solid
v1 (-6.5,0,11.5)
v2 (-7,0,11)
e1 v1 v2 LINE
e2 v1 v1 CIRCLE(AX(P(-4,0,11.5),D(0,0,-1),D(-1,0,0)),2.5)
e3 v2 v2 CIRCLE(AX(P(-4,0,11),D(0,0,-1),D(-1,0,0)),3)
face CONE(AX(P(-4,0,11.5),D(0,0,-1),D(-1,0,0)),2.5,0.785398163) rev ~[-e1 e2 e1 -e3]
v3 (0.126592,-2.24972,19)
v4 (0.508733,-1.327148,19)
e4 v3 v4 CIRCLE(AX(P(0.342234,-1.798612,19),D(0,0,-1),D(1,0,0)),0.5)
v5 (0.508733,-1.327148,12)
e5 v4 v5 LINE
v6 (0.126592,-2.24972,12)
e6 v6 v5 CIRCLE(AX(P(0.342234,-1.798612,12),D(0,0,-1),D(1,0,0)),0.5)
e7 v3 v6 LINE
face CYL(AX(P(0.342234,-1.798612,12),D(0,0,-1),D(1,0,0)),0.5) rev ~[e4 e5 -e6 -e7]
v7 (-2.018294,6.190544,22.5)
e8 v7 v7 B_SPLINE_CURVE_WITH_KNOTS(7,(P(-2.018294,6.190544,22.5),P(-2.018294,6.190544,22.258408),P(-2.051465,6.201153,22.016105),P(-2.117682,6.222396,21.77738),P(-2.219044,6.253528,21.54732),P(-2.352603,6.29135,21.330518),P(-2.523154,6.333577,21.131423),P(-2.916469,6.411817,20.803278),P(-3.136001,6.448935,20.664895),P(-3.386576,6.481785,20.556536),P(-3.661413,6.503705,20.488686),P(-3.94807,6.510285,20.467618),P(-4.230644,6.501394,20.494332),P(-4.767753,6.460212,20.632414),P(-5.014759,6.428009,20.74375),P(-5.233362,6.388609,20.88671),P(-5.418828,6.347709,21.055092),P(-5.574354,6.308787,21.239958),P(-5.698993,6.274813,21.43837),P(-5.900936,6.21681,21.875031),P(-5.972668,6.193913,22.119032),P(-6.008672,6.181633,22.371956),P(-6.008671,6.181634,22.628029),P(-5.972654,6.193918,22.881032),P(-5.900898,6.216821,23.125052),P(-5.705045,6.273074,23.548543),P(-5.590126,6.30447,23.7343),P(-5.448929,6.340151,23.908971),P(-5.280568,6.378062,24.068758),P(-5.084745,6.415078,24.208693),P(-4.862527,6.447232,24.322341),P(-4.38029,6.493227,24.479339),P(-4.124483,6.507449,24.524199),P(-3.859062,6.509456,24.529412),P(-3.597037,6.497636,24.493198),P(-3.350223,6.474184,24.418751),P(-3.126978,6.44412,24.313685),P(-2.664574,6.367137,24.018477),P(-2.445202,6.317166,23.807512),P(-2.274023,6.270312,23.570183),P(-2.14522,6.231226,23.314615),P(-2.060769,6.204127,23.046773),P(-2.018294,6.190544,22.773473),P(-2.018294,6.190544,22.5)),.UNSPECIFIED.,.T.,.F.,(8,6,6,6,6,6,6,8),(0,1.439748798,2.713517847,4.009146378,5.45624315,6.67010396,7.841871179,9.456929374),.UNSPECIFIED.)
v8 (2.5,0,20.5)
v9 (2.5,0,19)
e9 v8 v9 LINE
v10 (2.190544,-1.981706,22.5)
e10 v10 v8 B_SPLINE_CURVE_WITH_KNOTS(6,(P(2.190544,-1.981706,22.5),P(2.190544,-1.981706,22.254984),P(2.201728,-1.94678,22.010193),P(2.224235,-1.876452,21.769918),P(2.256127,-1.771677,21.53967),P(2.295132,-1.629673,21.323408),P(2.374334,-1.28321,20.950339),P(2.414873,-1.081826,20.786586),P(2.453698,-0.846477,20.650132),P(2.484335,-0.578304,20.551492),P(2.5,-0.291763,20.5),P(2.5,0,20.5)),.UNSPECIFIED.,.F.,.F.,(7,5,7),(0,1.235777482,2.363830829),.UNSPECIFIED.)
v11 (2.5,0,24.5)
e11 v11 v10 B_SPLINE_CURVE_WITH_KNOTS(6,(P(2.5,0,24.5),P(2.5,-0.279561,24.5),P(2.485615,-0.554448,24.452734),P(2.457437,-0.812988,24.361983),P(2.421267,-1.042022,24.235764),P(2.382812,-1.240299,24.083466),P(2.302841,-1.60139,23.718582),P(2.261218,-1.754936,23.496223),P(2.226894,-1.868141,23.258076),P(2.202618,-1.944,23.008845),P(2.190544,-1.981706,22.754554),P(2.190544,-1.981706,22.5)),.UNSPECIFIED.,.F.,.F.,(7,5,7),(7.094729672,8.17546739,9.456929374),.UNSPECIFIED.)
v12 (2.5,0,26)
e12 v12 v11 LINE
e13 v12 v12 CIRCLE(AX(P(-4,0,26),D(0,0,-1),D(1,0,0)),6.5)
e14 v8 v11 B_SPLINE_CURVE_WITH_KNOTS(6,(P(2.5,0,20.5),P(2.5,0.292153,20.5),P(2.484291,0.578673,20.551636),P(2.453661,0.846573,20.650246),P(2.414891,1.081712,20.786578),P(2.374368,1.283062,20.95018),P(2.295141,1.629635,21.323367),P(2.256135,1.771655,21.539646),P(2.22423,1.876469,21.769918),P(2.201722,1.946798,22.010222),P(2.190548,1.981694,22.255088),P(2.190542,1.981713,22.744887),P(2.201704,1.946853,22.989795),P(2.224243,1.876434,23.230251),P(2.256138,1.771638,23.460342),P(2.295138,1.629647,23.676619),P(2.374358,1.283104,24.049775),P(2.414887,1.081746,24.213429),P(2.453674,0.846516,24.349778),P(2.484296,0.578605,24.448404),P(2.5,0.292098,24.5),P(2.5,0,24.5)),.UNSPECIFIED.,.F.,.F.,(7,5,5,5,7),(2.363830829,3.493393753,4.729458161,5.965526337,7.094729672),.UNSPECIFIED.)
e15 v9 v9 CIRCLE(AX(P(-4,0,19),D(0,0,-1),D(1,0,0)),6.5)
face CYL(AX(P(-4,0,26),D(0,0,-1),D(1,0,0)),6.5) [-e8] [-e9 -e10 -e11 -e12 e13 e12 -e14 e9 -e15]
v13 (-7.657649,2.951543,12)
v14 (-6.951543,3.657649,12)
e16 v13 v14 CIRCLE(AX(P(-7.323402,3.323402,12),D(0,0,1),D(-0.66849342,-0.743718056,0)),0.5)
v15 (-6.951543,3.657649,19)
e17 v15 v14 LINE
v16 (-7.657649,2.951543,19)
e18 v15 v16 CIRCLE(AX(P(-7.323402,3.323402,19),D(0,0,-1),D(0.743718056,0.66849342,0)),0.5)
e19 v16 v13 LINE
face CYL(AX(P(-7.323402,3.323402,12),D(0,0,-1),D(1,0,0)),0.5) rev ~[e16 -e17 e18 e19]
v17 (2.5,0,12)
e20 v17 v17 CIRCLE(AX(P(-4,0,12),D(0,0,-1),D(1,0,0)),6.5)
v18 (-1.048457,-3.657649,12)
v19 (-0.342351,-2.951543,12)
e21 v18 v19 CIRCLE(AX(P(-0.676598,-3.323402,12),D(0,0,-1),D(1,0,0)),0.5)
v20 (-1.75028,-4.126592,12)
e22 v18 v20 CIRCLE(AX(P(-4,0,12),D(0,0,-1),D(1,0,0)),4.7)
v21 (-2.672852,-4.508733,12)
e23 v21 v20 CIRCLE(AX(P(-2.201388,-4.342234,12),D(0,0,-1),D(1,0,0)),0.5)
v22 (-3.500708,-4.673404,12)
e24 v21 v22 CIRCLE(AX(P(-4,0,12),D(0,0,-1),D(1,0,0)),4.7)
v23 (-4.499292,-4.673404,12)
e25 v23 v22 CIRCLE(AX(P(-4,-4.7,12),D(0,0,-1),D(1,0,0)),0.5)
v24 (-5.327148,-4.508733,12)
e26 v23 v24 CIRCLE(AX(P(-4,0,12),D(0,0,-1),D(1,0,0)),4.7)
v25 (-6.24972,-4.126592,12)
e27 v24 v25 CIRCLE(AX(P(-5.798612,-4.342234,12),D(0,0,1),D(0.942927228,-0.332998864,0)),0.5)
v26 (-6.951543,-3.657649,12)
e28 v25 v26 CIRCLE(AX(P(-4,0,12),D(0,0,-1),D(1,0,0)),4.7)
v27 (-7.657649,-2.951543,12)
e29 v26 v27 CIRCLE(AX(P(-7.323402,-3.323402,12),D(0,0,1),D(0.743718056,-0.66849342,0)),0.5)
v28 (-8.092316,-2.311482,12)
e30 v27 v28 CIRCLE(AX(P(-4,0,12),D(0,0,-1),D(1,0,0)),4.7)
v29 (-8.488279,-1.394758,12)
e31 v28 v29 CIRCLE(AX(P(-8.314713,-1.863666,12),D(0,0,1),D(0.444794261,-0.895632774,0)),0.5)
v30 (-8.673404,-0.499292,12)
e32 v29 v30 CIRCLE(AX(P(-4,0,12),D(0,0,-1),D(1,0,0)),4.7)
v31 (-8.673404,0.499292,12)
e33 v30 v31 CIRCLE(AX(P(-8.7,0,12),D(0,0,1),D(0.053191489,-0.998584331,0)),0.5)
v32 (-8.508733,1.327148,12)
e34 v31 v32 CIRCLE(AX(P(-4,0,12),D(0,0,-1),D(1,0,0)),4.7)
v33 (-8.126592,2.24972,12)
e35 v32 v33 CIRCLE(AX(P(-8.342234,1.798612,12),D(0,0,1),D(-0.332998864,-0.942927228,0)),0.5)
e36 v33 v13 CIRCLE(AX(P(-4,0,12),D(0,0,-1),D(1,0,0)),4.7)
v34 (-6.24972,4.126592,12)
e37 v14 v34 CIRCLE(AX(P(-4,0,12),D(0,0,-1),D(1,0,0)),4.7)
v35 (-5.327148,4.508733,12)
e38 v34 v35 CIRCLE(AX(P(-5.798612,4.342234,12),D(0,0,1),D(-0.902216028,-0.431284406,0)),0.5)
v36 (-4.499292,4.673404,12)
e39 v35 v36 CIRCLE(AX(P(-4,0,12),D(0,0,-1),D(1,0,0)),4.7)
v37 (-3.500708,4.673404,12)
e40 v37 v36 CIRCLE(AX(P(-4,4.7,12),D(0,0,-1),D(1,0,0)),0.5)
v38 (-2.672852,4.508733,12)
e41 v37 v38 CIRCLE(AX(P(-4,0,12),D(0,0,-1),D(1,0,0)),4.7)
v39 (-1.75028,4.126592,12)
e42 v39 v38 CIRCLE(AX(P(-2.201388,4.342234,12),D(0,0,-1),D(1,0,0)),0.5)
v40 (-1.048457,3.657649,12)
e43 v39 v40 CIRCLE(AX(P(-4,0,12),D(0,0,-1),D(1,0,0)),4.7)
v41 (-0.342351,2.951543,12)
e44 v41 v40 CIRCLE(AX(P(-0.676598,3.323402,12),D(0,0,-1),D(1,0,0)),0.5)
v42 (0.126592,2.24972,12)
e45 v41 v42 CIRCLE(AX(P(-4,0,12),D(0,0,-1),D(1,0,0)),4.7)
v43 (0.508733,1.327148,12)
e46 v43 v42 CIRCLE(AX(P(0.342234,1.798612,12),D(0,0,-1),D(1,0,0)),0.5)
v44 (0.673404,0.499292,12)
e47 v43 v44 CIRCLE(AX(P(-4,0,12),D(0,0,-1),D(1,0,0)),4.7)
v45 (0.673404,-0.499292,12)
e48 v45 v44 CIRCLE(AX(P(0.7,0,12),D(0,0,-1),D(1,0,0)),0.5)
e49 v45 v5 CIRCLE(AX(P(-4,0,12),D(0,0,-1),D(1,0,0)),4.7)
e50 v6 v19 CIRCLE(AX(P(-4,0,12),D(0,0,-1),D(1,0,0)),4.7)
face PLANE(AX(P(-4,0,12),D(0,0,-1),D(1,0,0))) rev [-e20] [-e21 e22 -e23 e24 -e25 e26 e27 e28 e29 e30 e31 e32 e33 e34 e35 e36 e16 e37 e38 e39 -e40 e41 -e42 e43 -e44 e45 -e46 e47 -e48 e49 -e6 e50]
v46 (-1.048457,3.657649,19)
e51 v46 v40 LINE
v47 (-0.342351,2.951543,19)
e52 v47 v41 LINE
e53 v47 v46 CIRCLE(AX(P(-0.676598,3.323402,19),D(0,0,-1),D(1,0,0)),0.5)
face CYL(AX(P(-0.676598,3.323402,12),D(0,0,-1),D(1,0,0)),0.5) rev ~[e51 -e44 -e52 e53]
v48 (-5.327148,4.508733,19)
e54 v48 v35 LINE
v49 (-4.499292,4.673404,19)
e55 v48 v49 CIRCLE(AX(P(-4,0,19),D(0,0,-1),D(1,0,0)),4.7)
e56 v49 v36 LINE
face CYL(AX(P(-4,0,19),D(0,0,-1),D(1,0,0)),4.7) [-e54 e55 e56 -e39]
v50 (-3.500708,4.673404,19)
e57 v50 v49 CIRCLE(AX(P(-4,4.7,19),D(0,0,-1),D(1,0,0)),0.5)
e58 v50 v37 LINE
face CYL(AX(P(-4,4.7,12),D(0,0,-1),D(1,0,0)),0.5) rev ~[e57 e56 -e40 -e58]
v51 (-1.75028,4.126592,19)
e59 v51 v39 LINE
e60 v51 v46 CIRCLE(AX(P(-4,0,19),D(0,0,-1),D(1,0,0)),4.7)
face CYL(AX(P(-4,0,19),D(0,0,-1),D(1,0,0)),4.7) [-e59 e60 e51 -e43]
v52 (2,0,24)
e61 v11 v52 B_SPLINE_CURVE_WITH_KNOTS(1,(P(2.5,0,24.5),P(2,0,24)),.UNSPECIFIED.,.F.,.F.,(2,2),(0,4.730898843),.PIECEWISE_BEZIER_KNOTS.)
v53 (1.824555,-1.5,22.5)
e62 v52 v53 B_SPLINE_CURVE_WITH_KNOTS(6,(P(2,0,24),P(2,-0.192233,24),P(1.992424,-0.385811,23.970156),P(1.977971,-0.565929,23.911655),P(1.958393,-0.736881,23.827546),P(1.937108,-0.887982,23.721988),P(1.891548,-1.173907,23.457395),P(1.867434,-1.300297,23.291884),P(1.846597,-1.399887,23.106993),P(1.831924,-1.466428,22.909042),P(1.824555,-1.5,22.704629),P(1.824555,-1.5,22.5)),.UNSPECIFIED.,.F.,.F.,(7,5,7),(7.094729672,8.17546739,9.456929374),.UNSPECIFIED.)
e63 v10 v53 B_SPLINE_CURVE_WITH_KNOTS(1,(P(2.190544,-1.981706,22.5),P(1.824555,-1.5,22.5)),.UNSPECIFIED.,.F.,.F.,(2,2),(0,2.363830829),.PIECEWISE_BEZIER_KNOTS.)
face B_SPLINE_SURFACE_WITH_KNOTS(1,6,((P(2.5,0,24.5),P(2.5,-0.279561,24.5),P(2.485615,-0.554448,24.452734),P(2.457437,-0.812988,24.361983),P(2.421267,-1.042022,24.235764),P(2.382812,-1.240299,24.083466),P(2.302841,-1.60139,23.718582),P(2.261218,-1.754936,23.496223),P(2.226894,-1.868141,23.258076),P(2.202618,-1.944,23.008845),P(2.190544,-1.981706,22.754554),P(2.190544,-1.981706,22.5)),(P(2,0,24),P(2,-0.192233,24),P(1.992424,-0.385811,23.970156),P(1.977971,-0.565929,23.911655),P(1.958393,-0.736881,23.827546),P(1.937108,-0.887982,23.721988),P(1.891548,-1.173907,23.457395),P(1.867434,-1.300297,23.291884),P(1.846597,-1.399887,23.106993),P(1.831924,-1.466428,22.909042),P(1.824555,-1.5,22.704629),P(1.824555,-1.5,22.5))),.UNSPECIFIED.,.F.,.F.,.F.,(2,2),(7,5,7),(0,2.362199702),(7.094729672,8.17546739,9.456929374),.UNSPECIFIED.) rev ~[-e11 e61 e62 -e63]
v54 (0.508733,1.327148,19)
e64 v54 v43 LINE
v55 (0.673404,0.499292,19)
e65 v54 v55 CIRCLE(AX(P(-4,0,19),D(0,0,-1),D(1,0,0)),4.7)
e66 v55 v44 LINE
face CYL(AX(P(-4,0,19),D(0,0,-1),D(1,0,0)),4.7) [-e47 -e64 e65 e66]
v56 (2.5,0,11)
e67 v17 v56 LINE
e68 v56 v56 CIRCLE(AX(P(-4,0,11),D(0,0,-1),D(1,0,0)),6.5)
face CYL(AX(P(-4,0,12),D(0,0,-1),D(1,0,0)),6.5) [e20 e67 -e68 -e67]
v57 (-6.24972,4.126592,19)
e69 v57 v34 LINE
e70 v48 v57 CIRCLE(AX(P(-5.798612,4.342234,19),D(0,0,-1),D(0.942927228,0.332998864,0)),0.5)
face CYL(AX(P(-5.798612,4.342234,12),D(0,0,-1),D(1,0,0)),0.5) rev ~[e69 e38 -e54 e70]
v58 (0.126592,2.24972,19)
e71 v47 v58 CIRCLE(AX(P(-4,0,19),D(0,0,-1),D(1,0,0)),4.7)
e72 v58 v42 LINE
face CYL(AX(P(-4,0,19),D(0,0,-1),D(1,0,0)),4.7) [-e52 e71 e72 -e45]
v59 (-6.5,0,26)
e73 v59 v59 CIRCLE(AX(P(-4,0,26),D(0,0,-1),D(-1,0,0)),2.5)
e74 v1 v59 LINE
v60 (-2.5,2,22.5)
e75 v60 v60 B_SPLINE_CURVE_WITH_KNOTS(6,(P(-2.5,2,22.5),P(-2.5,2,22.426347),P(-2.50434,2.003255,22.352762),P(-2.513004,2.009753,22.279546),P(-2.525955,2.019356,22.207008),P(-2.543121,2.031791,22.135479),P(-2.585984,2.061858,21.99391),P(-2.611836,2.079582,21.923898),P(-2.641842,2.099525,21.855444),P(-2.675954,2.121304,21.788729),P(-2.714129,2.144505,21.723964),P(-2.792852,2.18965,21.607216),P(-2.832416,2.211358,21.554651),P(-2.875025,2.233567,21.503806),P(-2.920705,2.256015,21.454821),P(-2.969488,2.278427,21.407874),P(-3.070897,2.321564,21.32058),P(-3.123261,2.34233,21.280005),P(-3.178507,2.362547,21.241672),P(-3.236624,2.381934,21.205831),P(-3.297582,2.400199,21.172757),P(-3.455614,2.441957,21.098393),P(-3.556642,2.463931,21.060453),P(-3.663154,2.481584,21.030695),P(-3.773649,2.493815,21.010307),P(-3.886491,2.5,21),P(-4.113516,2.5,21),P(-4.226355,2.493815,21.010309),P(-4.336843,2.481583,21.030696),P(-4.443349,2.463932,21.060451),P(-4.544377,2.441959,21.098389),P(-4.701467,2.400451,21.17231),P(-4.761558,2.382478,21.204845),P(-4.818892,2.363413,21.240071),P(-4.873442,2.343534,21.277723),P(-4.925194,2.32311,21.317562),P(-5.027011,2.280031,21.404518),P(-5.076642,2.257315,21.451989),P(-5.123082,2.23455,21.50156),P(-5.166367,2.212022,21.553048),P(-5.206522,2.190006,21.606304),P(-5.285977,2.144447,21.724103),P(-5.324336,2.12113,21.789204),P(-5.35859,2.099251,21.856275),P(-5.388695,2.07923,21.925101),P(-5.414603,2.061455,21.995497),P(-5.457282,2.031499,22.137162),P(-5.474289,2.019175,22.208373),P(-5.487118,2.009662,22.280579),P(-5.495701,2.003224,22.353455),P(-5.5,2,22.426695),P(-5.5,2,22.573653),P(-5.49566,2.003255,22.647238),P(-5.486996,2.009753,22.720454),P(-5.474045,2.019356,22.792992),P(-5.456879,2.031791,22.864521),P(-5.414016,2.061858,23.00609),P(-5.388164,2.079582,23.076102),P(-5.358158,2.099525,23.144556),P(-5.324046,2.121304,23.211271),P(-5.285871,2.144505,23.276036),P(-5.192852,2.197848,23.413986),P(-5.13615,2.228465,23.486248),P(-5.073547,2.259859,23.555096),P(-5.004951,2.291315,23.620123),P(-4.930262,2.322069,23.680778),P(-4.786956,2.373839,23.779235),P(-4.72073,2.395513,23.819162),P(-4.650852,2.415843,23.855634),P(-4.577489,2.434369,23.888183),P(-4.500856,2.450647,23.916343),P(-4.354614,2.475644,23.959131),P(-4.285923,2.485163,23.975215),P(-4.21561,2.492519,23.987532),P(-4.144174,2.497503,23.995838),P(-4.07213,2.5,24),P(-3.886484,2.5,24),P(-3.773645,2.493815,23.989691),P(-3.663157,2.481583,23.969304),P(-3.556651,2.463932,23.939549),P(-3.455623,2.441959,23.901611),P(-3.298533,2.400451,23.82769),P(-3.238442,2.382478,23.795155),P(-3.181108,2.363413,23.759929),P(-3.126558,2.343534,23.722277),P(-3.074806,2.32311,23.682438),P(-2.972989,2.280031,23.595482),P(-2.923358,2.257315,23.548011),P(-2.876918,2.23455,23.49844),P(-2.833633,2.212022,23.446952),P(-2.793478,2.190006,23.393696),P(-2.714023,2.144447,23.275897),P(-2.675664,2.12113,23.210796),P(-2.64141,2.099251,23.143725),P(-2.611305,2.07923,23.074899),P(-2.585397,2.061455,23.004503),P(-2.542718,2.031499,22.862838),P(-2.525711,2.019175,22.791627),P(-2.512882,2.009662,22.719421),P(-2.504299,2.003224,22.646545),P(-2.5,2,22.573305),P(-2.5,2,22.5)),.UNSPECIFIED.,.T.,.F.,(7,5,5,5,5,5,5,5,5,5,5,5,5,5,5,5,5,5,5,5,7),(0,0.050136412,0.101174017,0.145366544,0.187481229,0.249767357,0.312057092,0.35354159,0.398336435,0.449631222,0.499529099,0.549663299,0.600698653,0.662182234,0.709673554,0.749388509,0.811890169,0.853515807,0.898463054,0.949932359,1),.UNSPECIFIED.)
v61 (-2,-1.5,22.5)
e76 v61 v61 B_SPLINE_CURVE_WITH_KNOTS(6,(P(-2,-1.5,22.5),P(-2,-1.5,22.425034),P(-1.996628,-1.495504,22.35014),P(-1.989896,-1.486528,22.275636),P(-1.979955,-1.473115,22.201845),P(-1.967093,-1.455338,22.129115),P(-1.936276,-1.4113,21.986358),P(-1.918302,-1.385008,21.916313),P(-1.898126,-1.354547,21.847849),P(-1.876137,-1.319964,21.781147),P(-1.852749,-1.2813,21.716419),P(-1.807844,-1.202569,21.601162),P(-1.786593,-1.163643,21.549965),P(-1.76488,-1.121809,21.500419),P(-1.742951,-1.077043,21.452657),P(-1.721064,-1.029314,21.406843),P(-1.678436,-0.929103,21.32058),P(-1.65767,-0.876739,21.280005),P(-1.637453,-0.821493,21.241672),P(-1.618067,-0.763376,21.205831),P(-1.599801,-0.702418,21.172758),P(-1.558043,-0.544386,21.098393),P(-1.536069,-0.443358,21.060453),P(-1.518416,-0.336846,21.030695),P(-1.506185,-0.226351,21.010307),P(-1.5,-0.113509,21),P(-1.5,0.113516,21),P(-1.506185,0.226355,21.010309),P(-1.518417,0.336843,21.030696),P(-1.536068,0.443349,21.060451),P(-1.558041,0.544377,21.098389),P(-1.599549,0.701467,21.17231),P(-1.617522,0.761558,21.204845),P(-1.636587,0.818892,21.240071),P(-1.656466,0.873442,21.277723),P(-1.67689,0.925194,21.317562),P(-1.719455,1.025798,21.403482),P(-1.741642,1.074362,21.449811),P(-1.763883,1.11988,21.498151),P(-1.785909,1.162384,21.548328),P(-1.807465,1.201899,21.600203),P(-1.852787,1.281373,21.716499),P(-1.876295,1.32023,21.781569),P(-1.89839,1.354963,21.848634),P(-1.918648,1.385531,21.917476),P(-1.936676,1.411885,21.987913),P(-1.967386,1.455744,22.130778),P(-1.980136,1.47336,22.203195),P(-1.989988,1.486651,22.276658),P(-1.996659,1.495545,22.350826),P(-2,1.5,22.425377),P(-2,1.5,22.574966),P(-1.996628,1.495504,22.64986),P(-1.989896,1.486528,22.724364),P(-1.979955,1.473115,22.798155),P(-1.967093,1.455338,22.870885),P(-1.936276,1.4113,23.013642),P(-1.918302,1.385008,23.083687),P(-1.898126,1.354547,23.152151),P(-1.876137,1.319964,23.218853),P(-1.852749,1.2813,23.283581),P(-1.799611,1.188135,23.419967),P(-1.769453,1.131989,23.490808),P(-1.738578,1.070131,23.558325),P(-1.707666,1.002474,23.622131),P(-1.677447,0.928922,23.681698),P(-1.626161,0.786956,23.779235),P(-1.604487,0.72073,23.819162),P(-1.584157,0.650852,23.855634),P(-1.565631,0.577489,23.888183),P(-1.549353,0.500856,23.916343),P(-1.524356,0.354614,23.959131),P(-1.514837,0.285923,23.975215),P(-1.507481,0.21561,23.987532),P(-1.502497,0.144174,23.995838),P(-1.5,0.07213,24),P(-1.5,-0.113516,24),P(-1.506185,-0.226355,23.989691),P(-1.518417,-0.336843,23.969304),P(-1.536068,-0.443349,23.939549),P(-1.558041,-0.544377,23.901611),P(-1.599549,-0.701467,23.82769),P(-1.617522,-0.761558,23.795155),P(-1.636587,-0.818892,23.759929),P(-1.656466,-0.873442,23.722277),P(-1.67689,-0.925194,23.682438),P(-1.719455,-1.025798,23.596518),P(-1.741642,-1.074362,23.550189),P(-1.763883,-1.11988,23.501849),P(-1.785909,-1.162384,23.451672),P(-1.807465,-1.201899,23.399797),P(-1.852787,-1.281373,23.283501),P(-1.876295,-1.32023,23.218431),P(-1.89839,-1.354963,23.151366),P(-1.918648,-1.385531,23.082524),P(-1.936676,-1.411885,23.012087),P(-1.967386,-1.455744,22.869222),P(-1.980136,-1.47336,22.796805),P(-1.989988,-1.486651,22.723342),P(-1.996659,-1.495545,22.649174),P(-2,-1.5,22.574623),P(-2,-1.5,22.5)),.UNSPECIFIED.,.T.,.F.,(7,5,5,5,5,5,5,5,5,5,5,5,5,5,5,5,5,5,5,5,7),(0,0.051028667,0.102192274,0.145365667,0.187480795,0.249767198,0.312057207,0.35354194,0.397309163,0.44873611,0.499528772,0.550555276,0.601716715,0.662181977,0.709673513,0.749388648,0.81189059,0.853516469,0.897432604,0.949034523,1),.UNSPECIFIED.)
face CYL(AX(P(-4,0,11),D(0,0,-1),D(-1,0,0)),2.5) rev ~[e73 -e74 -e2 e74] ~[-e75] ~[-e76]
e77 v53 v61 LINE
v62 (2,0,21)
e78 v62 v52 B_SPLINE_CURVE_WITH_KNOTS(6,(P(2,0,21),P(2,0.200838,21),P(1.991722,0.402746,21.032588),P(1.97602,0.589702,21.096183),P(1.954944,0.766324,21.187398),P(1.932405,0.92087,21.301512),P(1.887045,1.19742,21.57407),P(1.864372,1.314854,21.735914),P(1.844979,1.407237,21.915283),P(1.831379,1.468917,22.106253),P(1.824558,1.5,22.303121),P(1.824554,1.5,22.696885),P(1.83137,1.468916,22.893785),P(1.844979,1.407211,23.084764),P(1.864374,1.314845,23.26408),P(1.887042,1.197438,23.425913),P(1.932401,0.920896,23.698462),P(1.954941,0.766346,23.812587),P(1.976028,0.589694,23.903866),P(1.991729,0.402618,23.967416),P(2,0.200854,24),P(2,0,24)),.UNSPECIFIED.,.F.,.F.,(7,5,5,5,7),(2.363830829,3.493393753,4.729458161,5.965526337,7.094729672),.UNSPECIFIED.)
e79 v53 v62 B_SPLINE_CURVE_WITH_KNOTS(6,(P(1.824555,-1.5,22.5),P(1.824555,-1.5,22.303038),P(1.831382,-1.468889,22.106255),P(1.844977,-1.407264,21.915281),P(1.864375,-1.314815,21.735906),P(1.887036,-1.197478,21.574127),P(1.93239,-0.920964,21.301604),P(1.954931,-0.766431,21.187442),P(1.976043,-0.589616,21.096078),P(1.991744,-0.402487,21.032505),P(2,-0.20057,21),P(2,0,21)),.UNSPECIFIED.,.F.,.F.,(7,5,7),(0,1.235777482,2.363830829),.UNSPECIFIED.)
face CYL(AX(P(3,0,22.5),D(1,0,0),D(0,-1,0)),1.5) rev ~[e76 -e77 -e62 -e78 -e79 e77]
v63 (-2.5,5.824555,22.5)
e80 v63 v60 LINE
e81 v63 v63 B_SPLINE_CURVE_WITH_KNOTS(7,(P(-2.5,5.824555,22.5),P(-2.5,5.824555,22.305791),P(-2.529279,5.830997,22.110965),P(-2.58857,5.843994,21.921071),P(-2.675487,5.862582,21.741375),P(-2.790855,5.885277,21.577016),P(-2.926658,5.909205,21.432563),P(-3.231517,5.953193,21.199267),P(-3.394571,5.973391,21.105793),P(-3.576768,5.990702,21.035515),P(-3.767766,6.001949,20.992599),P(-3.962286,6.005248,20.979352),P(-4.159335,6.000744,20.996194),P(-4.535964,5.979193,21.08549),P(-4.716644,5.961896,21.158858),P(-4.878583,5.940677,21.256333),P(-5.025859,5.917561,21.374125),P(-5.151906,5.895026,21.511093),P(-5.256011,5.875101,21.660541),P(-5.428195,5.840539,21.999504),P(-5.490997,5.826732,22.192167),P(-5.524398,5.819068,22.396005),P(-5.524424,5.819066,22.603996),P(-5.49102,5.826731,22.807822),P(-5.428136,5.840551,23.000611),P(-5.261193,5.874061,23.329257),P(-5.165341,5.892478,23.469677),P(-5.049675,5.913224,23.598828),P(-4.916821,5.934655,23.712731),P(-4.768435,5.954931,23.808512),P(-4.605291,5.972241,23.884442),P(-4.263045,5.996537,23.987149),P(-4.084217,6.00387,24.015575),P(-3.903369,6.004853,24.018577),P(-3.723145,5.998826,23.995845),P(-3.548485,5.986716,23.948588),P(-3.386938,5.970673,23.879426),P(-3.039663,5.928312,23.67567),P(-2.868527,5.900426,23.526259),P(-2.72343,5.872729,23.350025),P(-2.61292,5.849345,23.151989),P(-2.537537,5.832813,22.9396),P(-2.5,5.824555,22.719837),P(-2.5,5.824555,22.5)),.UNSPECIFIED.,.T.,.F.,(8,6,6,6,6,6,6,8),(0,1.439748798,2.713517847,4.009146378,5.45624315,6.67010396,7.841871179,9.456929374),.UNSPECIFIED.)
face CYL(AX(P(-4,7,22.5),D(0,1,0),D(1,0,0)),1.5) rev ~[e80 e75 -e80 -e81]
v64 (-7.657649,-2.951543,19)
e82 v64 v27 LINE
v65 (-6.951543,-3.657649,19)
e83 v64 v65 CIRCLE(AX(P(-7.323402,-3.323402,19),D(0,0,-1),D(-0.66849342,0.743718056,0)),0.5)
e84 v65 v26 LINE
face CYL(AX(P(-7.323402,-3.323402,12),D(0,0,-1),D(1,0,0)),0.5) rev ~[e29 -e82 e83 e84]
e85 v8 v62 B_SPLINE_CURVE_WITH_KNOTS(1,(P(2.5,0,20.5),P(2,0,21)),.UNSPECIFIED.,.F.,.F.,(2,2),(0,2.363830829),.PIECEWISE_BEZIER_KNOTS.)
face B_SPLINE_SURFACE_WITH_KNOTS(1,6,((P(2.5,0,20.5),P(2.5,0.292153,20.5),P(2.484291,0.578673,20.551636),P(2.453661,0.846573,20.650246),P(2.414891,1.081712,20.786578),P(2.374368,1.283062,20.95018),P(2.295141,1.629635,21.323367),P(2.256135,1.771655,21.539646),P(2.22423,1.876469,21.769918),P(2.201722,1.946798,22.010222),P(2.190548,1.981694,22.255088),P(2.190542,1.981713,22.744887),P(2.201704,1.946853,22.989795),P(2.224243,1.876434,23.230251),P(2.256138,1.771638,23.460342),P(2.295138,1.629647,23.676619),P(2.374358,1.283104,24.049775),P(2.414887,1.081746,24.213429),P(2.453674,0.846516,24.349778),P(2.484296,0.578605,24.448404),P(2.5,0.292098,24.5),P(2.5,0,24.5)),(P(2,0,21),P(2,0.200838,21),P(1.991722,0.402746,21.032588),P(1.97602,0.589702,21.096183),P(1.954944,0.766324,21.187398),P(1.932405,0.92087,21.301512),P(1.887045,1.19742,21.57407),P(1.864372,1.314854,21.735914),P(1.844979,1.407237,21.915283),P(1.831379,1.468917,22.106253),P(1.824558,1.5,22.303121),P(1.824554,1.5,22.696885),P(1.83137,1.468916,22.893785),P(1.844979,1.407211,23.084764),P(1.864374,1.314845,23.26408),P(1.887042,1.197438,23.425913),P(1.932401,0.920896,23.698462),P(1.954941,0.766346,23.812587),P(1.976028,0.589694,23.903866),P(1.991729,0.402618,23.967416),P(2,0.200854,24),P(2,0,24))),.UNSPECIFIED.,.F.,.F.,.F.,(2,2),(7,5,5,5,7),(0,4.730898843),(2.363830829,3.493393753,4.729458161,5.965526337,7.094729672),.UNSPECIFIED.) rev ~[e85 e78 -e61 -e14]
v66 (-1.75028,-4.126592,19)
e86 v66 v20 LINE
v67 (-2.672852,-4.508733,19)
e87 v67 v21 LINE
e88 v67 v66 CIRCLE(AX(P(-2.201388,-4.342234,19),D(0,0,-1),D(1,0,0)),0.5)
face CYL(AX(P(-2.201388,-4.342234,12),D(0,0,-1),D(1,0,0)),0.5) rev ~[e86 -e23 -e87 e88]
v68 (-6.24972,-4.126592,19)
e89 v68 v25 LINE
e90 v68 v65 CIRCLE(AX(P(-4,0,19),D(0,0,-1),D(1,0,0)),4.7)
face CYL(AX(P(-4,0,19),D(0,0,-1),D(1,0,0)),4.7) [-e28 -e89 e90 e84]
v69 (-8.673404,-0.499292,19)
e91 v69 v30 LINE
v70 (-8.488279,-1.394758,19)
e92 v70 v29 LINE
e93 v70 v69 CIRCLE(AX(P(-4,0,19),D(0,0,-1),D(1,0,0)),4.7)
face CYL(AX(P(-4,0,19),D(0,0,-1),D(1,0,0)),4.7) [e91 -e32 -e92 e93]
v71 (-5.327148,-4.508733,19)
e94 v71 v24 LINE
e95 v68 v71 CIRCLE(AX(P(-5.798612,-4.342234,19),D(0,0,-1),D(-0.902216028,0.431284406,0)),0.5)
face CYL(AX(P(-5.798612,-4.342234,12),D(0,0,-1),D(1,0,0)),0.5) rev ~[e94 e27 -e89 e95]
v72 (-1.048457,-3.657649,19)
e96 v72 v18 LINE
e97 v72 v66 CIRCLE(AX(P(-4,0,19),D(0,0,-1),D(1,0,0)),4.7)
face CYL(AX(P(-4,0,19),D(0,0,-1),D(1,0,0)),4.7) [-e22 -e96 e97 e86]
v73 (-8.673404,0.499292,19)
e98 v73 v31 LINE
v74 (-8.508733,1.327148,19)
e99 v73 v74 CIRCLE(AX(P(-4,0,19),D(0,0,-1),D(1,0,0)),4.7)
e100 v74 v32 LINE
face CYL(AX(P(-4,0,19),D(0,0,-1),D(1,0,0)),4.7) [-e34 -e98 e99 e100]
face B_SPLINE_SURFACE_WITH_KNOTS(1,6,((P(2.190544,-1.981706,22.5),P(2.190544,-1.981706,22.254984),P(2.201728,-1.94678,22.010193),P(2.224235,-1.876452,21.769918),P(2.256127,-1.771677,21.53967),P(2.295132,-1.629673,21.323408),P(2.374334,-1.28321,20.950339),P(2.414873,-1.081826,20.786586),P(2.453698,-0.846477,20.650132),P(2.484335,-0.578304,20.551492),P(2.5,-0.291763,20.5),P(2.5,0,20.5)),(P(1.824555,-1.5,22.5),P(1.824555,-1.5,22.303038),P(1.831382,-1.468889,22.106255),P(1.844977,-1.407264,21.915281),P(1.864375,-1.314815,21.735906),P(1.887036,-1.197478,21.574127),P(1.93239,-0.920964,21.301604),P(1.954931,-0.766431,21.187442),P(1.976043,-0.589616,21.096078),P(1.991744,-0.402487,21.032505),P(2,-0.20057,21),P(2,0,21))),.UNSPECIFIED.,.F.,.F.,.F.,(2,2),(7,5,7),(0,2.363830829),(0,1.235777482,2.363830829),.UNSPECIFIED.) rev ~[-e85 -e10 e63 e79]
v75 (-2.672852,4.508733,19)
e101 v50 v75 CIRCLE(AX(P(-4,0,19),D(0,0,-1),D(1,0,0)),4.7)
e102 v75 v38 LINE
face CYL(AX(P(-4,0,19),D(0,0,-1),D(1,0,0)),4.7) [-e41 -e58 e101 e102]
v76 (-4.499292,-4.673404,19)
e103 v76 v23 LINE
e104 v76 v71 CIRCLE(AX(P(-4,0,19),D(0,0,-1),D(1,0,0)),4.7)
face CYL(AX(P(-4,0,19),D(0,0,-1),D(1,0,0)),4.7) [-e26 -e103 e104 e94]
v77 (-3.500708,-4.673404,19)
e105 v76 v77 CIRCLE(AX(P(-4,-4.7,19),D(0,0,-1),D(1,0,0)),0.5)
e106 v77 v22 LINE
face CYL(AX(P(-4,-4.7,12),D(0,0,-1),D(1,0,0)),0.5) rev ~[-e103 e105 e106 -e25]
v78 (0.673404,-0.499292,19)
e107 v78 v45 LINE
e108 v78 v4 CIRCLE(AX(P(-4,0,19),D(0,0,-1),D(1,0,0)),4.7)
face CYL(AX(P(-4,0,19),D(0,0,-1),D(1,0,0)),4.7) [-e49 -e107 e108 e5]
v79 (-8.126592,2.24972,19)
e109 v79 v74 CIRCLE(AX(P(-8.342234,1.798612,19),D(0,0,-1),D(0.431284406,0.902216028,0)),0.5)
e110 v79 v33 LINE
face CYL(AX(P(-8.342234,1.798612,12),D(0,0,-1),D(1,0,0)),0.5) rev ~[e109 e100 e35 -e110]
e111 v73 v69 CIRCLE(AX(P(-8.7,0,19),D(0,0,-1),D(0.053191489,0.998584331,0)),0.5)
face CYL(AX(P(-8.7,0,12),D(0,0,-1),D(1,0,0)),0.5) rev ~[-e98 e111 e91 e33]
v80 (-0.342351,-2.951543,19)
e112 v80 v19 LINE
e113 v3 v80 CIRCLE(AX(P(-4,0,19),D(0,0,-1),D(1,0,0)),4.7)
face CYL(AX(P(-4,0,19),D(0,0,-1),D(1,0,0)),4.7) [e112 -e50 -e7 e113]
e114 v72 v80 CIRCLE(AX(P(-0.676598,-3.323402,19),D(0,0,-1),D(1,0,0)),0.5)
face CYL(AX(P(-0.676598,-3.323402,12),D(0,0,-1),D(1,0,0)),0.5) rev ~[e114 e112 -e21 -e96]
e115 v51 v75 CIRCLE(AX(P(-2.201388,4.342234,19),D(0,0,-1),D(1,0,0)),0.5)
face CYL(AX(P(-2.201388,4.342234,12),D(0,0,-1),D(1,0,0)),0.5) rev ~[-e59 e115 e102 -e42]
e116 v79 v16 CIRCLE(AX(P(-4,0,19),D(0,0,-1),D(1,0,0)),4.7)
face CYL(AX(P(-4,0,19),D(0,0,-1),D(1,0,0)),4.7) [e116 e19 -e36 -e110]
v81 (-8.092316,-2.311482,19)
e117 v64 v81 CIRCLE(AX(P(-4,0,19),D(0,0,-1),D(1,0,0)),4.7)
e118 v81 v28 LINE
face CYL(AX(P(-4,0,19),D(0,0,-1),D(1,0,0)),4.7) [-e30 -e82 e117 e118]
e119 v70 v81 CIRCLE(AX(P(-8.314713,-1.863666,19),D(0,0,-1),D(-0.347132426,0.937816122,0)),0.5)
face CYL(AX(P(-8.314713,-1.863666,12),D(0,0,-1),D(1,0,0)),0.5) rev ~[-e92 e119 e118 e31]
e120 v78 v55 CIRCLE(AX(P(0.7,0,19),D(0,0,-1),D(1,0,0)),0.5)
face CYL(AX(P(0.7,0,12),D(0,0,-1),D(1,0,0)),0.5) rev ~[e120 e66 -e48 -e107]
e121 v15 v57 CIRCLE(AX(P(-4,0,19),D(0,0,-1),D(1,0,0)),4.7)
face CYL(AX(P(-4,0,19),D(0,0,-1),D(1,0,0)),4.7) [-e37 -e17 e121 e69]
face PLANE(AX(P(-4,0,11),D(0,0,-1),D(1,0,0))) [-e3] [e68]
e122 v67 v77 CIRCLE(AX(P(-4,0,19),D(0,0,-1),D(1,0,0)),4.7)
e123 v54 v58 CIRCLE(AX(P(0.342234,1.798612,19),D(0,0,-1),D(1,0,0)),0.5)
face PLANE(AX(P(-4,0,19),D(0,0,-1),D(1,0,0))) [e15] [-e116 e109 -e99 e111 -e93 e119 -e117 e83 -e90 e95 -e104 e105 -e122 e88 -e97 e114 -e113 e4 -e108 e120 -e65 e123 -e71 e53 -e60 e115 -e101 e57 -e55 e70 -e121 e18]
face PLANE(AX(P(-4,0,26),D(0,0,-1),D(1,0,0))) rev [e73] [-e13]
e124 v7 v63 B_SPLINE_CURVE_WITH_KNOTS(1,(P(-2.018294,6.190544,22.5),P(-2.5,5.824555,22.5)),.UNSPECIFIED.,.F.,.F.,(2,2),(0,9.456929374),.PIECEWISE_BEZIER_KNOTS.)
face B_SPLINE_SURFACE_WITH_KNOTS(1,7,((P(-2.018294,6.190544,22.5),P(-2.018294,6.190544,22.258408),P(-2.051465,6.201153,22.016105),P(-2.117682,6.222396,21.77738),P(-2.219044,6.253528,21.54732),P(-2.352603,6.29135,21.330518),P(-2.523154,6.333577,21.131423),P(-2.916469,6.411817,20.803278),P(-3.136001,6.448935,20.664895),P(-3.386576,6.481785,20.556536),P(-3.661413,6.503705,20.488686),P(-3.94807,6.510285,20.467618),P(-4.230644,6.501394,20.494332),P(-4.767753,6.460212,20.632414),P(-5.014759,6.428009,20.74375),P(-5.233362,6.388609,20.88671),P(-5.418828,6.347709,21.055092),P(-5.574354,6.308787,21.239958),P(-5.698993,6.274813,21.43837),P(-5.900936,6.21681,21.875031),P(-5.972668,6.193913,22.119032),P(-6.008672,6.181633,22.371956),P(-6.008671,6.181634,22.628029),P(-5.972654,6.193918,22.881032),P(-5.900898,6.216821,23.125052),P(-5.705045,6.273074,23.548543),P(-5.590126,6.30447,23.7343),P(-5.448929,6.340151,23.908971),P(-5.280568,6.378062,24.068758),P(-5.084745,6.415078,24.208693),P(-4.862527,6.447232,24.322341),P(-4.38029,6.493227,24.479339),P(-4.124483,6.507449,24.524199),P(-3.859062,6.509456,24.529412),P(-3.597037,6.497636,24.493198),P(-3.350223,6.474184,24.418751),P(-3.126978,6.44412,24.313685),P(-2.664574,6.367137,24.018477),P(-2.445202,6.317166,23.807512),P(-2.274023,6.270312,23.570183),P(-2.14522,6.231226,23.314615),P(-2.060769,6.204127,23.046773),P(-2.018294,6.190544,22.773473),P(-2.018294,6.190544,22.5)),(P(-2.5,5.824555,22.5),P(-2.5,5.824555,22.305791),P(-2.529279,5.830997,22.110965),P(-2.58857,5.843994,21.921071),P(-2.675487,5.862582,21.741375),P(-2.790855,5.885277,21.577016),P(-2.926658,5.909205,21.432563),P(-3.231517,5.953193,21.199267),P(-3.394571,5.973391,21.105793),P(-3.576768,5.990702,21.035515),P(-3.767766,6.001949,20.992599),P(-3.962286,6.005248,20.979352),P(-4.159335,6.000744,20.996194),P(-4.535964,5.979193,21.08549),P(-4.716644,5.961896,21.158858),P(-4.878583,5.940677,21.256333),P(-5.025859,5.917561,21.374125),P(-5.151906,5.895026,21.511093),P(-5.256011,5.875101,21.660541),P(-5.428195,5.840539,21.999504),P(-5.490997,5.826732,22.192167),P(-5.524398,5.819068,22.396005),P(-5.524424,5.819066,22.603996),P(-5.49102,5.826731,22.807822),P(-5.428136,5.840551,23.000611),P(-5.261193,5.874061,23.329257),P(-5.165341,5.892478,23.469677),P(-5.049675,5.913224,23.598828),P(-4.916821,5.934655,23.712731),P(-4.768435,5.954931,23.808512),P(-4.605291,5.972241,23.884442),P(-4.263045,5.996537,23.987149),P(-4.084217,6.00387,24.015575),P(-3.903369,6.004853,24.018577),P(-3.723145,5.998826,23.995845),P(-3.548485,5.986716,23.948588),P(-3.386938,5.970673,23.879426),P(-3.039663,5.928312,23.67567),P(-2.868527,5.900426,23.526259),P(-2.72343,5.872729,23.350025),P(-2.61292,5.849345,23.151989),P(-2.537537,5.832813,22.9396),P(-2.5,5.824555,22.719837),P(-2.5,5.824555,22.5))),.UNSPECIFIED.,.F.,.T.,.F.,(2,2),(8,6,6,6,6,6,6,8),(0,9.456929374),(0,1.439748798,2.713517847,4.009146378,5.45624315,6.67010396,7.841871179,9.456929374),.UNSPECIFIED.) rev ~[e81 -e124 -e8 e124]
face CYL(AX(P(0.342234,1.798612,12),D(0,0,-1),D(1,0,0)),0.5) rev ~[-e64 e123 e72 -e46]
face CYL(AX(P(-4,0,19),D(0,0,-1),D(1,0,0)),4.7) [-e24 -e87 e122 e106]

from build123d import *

# Parameters (mm, degrees)
SKETCH068_R            = 0.5
PAD053_DEPTH           = 7
SKETCH067_R            = 1.5
PAD052_DEPTH           = 8
SKETCH066_R            = 1.5
PAD051_DEPTH           = 8
SKETCH065_R            = 2.5
POCKET001_DEPTH        = 15
CHAMFER002_SIZE        = 0.5
CHAMFER003_SIZE        = 0.5
CUT005_PLACEMENT_ANGLE = 180


with BuildPart() as pad053:
    # Sketch068 → Pad053 (new body)
    with BuildSketch(Plane.XY.offset(14)):
        with Locations((0, 4.7)):
            Circle(SKETCH068_R)
        with Locations((0, -4.7)):
            Circle(SKETCH068_R)
        with Locations((4.7, 0)):
            Circle(SKETCH068_R)
        with Locations((-4.7, 0)):
            Circle(SKETCH068_R)
        with Locations((-3.323402, 3.323402)):
            Circle(SKETCH068_R)
        with Locations((3.323402, 3.323402)):
            Circle(SKETCH068_R)
        with Locations((-3.323402, -3.323402)):
            Circle(SKETCH068_R)
        with Locations((3.323402, -3.323402)):
            Circle(SKETCH068_R)
        with Locations((-1.798612, 4.342234)):
            Circle(SKETCH068_R)
        with Locations((1.798612, 4.342234)):
            Circle(SKETCH068_R)
        with Locations((4.342234, 1.798612)):
            Circle(SKETCH068_R)
        with Locations((4.342234, -1.798612)):
            Circle(SKETCH068_R)
        with Locations((1.798612, -4.342234)):
            Circle(SKETCH068_R)
        with Locations((-1.798612, -4.342234)):
            Circle(SKETCH068_R)
        with Locations((-4.342234, -1.798612)):
            Circle(SKETCH068_R)
        with Locations((-4.314713, 1.863666)):
            Circle(SKETCH068_R)
    extrude(amount=-PAD053_DEPTH)


with BuildPart() as pad052:
    # Sketch067 → Pad052 (new body)
    with BuildSketch(Plane(origin=(7, 0, 3.5), x_dir=(0, 1, 0), z_dir=(1, 0, 0))):
        Circle(SKETCH067_R)
    extrude(amount=-PAD052_DEPTH)


with BuildPart() as pad051:
    # Sketch066 → Pad051 (new body)
    with BuildSketch(Plane(origin=(0, -7, 3.5), x_dir=(1, 0, 0), z_dir=(0, -1, 0))):
        Circle(SKETCH066_R)
    extrude(amount=-PAD051_DEPTH)


with BuildPart() as gt1_pulley001:
    # Sketch064 → Revolution004 (revolve)
    with BuildSketch(Plane.XZ):
        Polygon((0, 0), (6.5, 0), (6.5, 7), (4.7, 7), (4.7, 14), (6.5, 14), (6.5, 15), (0, 15), align=None)
    revolve(axis=Axis((0, 0, 0), (0, 0, 1)))

    # Sketch065 (on Face7 of Revolution004) → Pocket001 (cut)
    with BuildSketch(Plane(origin=(0, 0, 15), x_dir=(-1, 0, 0), z_dir=(0, 0, 1))):
        Circle(SKETCH065_R)
    extrude(amount=-POCKET001_DEPTH, mode=Mode.SUBTRACT)

    # Cut003: cut Pad051
    add(pad051.part, mode=Mode.SUBTRACT)

    # Cut004: cut Pad052
    add(pad052.part, mode=Mode.SUBTRACT)

    # Chamfer002
    chamfer002_edges = [gt1_pulley001.edges().sort_by_distance(p)[0] for p in [
        (-4e-06, -6.499997, 4.999986),
        (-4e-06, -6.499997, 2.000014),
        (6.412872, 1.060693, 4.560627),
        (6.412872, 1.060693, 2.439373),
        (6.412872, -1.060693, 2.439373),
        (6.412872, -1.060693, 4.560627),
    ]]
    chamfer(chamfer002_edges, length=CHAMFER002_SIZE)

    # Chamfer003
    chamfer003_edges = [gt1_pulley001.edges().sort_by_distance(p)[0] for p in [
        (2.5, 0, 15),
    ]]
    chamfer(chamfer003_edges, length=CHAMFER003_SIZE)

    # Cut005: cut Pad053
    add(pad053.part, mode=Mode.SUBTRACT)


with BuildPart() as gt1_pulley001_1:
    # Cut005 placement: moved
    add(gt1_pulley001.part.moved(Location((-4, 0, 26))).rotate(Axis((-4, 0, 26), (1, 0, 0)), CUT005_PLACEMENT_ANGLE))


solid = gt1_pulley001_1.part
